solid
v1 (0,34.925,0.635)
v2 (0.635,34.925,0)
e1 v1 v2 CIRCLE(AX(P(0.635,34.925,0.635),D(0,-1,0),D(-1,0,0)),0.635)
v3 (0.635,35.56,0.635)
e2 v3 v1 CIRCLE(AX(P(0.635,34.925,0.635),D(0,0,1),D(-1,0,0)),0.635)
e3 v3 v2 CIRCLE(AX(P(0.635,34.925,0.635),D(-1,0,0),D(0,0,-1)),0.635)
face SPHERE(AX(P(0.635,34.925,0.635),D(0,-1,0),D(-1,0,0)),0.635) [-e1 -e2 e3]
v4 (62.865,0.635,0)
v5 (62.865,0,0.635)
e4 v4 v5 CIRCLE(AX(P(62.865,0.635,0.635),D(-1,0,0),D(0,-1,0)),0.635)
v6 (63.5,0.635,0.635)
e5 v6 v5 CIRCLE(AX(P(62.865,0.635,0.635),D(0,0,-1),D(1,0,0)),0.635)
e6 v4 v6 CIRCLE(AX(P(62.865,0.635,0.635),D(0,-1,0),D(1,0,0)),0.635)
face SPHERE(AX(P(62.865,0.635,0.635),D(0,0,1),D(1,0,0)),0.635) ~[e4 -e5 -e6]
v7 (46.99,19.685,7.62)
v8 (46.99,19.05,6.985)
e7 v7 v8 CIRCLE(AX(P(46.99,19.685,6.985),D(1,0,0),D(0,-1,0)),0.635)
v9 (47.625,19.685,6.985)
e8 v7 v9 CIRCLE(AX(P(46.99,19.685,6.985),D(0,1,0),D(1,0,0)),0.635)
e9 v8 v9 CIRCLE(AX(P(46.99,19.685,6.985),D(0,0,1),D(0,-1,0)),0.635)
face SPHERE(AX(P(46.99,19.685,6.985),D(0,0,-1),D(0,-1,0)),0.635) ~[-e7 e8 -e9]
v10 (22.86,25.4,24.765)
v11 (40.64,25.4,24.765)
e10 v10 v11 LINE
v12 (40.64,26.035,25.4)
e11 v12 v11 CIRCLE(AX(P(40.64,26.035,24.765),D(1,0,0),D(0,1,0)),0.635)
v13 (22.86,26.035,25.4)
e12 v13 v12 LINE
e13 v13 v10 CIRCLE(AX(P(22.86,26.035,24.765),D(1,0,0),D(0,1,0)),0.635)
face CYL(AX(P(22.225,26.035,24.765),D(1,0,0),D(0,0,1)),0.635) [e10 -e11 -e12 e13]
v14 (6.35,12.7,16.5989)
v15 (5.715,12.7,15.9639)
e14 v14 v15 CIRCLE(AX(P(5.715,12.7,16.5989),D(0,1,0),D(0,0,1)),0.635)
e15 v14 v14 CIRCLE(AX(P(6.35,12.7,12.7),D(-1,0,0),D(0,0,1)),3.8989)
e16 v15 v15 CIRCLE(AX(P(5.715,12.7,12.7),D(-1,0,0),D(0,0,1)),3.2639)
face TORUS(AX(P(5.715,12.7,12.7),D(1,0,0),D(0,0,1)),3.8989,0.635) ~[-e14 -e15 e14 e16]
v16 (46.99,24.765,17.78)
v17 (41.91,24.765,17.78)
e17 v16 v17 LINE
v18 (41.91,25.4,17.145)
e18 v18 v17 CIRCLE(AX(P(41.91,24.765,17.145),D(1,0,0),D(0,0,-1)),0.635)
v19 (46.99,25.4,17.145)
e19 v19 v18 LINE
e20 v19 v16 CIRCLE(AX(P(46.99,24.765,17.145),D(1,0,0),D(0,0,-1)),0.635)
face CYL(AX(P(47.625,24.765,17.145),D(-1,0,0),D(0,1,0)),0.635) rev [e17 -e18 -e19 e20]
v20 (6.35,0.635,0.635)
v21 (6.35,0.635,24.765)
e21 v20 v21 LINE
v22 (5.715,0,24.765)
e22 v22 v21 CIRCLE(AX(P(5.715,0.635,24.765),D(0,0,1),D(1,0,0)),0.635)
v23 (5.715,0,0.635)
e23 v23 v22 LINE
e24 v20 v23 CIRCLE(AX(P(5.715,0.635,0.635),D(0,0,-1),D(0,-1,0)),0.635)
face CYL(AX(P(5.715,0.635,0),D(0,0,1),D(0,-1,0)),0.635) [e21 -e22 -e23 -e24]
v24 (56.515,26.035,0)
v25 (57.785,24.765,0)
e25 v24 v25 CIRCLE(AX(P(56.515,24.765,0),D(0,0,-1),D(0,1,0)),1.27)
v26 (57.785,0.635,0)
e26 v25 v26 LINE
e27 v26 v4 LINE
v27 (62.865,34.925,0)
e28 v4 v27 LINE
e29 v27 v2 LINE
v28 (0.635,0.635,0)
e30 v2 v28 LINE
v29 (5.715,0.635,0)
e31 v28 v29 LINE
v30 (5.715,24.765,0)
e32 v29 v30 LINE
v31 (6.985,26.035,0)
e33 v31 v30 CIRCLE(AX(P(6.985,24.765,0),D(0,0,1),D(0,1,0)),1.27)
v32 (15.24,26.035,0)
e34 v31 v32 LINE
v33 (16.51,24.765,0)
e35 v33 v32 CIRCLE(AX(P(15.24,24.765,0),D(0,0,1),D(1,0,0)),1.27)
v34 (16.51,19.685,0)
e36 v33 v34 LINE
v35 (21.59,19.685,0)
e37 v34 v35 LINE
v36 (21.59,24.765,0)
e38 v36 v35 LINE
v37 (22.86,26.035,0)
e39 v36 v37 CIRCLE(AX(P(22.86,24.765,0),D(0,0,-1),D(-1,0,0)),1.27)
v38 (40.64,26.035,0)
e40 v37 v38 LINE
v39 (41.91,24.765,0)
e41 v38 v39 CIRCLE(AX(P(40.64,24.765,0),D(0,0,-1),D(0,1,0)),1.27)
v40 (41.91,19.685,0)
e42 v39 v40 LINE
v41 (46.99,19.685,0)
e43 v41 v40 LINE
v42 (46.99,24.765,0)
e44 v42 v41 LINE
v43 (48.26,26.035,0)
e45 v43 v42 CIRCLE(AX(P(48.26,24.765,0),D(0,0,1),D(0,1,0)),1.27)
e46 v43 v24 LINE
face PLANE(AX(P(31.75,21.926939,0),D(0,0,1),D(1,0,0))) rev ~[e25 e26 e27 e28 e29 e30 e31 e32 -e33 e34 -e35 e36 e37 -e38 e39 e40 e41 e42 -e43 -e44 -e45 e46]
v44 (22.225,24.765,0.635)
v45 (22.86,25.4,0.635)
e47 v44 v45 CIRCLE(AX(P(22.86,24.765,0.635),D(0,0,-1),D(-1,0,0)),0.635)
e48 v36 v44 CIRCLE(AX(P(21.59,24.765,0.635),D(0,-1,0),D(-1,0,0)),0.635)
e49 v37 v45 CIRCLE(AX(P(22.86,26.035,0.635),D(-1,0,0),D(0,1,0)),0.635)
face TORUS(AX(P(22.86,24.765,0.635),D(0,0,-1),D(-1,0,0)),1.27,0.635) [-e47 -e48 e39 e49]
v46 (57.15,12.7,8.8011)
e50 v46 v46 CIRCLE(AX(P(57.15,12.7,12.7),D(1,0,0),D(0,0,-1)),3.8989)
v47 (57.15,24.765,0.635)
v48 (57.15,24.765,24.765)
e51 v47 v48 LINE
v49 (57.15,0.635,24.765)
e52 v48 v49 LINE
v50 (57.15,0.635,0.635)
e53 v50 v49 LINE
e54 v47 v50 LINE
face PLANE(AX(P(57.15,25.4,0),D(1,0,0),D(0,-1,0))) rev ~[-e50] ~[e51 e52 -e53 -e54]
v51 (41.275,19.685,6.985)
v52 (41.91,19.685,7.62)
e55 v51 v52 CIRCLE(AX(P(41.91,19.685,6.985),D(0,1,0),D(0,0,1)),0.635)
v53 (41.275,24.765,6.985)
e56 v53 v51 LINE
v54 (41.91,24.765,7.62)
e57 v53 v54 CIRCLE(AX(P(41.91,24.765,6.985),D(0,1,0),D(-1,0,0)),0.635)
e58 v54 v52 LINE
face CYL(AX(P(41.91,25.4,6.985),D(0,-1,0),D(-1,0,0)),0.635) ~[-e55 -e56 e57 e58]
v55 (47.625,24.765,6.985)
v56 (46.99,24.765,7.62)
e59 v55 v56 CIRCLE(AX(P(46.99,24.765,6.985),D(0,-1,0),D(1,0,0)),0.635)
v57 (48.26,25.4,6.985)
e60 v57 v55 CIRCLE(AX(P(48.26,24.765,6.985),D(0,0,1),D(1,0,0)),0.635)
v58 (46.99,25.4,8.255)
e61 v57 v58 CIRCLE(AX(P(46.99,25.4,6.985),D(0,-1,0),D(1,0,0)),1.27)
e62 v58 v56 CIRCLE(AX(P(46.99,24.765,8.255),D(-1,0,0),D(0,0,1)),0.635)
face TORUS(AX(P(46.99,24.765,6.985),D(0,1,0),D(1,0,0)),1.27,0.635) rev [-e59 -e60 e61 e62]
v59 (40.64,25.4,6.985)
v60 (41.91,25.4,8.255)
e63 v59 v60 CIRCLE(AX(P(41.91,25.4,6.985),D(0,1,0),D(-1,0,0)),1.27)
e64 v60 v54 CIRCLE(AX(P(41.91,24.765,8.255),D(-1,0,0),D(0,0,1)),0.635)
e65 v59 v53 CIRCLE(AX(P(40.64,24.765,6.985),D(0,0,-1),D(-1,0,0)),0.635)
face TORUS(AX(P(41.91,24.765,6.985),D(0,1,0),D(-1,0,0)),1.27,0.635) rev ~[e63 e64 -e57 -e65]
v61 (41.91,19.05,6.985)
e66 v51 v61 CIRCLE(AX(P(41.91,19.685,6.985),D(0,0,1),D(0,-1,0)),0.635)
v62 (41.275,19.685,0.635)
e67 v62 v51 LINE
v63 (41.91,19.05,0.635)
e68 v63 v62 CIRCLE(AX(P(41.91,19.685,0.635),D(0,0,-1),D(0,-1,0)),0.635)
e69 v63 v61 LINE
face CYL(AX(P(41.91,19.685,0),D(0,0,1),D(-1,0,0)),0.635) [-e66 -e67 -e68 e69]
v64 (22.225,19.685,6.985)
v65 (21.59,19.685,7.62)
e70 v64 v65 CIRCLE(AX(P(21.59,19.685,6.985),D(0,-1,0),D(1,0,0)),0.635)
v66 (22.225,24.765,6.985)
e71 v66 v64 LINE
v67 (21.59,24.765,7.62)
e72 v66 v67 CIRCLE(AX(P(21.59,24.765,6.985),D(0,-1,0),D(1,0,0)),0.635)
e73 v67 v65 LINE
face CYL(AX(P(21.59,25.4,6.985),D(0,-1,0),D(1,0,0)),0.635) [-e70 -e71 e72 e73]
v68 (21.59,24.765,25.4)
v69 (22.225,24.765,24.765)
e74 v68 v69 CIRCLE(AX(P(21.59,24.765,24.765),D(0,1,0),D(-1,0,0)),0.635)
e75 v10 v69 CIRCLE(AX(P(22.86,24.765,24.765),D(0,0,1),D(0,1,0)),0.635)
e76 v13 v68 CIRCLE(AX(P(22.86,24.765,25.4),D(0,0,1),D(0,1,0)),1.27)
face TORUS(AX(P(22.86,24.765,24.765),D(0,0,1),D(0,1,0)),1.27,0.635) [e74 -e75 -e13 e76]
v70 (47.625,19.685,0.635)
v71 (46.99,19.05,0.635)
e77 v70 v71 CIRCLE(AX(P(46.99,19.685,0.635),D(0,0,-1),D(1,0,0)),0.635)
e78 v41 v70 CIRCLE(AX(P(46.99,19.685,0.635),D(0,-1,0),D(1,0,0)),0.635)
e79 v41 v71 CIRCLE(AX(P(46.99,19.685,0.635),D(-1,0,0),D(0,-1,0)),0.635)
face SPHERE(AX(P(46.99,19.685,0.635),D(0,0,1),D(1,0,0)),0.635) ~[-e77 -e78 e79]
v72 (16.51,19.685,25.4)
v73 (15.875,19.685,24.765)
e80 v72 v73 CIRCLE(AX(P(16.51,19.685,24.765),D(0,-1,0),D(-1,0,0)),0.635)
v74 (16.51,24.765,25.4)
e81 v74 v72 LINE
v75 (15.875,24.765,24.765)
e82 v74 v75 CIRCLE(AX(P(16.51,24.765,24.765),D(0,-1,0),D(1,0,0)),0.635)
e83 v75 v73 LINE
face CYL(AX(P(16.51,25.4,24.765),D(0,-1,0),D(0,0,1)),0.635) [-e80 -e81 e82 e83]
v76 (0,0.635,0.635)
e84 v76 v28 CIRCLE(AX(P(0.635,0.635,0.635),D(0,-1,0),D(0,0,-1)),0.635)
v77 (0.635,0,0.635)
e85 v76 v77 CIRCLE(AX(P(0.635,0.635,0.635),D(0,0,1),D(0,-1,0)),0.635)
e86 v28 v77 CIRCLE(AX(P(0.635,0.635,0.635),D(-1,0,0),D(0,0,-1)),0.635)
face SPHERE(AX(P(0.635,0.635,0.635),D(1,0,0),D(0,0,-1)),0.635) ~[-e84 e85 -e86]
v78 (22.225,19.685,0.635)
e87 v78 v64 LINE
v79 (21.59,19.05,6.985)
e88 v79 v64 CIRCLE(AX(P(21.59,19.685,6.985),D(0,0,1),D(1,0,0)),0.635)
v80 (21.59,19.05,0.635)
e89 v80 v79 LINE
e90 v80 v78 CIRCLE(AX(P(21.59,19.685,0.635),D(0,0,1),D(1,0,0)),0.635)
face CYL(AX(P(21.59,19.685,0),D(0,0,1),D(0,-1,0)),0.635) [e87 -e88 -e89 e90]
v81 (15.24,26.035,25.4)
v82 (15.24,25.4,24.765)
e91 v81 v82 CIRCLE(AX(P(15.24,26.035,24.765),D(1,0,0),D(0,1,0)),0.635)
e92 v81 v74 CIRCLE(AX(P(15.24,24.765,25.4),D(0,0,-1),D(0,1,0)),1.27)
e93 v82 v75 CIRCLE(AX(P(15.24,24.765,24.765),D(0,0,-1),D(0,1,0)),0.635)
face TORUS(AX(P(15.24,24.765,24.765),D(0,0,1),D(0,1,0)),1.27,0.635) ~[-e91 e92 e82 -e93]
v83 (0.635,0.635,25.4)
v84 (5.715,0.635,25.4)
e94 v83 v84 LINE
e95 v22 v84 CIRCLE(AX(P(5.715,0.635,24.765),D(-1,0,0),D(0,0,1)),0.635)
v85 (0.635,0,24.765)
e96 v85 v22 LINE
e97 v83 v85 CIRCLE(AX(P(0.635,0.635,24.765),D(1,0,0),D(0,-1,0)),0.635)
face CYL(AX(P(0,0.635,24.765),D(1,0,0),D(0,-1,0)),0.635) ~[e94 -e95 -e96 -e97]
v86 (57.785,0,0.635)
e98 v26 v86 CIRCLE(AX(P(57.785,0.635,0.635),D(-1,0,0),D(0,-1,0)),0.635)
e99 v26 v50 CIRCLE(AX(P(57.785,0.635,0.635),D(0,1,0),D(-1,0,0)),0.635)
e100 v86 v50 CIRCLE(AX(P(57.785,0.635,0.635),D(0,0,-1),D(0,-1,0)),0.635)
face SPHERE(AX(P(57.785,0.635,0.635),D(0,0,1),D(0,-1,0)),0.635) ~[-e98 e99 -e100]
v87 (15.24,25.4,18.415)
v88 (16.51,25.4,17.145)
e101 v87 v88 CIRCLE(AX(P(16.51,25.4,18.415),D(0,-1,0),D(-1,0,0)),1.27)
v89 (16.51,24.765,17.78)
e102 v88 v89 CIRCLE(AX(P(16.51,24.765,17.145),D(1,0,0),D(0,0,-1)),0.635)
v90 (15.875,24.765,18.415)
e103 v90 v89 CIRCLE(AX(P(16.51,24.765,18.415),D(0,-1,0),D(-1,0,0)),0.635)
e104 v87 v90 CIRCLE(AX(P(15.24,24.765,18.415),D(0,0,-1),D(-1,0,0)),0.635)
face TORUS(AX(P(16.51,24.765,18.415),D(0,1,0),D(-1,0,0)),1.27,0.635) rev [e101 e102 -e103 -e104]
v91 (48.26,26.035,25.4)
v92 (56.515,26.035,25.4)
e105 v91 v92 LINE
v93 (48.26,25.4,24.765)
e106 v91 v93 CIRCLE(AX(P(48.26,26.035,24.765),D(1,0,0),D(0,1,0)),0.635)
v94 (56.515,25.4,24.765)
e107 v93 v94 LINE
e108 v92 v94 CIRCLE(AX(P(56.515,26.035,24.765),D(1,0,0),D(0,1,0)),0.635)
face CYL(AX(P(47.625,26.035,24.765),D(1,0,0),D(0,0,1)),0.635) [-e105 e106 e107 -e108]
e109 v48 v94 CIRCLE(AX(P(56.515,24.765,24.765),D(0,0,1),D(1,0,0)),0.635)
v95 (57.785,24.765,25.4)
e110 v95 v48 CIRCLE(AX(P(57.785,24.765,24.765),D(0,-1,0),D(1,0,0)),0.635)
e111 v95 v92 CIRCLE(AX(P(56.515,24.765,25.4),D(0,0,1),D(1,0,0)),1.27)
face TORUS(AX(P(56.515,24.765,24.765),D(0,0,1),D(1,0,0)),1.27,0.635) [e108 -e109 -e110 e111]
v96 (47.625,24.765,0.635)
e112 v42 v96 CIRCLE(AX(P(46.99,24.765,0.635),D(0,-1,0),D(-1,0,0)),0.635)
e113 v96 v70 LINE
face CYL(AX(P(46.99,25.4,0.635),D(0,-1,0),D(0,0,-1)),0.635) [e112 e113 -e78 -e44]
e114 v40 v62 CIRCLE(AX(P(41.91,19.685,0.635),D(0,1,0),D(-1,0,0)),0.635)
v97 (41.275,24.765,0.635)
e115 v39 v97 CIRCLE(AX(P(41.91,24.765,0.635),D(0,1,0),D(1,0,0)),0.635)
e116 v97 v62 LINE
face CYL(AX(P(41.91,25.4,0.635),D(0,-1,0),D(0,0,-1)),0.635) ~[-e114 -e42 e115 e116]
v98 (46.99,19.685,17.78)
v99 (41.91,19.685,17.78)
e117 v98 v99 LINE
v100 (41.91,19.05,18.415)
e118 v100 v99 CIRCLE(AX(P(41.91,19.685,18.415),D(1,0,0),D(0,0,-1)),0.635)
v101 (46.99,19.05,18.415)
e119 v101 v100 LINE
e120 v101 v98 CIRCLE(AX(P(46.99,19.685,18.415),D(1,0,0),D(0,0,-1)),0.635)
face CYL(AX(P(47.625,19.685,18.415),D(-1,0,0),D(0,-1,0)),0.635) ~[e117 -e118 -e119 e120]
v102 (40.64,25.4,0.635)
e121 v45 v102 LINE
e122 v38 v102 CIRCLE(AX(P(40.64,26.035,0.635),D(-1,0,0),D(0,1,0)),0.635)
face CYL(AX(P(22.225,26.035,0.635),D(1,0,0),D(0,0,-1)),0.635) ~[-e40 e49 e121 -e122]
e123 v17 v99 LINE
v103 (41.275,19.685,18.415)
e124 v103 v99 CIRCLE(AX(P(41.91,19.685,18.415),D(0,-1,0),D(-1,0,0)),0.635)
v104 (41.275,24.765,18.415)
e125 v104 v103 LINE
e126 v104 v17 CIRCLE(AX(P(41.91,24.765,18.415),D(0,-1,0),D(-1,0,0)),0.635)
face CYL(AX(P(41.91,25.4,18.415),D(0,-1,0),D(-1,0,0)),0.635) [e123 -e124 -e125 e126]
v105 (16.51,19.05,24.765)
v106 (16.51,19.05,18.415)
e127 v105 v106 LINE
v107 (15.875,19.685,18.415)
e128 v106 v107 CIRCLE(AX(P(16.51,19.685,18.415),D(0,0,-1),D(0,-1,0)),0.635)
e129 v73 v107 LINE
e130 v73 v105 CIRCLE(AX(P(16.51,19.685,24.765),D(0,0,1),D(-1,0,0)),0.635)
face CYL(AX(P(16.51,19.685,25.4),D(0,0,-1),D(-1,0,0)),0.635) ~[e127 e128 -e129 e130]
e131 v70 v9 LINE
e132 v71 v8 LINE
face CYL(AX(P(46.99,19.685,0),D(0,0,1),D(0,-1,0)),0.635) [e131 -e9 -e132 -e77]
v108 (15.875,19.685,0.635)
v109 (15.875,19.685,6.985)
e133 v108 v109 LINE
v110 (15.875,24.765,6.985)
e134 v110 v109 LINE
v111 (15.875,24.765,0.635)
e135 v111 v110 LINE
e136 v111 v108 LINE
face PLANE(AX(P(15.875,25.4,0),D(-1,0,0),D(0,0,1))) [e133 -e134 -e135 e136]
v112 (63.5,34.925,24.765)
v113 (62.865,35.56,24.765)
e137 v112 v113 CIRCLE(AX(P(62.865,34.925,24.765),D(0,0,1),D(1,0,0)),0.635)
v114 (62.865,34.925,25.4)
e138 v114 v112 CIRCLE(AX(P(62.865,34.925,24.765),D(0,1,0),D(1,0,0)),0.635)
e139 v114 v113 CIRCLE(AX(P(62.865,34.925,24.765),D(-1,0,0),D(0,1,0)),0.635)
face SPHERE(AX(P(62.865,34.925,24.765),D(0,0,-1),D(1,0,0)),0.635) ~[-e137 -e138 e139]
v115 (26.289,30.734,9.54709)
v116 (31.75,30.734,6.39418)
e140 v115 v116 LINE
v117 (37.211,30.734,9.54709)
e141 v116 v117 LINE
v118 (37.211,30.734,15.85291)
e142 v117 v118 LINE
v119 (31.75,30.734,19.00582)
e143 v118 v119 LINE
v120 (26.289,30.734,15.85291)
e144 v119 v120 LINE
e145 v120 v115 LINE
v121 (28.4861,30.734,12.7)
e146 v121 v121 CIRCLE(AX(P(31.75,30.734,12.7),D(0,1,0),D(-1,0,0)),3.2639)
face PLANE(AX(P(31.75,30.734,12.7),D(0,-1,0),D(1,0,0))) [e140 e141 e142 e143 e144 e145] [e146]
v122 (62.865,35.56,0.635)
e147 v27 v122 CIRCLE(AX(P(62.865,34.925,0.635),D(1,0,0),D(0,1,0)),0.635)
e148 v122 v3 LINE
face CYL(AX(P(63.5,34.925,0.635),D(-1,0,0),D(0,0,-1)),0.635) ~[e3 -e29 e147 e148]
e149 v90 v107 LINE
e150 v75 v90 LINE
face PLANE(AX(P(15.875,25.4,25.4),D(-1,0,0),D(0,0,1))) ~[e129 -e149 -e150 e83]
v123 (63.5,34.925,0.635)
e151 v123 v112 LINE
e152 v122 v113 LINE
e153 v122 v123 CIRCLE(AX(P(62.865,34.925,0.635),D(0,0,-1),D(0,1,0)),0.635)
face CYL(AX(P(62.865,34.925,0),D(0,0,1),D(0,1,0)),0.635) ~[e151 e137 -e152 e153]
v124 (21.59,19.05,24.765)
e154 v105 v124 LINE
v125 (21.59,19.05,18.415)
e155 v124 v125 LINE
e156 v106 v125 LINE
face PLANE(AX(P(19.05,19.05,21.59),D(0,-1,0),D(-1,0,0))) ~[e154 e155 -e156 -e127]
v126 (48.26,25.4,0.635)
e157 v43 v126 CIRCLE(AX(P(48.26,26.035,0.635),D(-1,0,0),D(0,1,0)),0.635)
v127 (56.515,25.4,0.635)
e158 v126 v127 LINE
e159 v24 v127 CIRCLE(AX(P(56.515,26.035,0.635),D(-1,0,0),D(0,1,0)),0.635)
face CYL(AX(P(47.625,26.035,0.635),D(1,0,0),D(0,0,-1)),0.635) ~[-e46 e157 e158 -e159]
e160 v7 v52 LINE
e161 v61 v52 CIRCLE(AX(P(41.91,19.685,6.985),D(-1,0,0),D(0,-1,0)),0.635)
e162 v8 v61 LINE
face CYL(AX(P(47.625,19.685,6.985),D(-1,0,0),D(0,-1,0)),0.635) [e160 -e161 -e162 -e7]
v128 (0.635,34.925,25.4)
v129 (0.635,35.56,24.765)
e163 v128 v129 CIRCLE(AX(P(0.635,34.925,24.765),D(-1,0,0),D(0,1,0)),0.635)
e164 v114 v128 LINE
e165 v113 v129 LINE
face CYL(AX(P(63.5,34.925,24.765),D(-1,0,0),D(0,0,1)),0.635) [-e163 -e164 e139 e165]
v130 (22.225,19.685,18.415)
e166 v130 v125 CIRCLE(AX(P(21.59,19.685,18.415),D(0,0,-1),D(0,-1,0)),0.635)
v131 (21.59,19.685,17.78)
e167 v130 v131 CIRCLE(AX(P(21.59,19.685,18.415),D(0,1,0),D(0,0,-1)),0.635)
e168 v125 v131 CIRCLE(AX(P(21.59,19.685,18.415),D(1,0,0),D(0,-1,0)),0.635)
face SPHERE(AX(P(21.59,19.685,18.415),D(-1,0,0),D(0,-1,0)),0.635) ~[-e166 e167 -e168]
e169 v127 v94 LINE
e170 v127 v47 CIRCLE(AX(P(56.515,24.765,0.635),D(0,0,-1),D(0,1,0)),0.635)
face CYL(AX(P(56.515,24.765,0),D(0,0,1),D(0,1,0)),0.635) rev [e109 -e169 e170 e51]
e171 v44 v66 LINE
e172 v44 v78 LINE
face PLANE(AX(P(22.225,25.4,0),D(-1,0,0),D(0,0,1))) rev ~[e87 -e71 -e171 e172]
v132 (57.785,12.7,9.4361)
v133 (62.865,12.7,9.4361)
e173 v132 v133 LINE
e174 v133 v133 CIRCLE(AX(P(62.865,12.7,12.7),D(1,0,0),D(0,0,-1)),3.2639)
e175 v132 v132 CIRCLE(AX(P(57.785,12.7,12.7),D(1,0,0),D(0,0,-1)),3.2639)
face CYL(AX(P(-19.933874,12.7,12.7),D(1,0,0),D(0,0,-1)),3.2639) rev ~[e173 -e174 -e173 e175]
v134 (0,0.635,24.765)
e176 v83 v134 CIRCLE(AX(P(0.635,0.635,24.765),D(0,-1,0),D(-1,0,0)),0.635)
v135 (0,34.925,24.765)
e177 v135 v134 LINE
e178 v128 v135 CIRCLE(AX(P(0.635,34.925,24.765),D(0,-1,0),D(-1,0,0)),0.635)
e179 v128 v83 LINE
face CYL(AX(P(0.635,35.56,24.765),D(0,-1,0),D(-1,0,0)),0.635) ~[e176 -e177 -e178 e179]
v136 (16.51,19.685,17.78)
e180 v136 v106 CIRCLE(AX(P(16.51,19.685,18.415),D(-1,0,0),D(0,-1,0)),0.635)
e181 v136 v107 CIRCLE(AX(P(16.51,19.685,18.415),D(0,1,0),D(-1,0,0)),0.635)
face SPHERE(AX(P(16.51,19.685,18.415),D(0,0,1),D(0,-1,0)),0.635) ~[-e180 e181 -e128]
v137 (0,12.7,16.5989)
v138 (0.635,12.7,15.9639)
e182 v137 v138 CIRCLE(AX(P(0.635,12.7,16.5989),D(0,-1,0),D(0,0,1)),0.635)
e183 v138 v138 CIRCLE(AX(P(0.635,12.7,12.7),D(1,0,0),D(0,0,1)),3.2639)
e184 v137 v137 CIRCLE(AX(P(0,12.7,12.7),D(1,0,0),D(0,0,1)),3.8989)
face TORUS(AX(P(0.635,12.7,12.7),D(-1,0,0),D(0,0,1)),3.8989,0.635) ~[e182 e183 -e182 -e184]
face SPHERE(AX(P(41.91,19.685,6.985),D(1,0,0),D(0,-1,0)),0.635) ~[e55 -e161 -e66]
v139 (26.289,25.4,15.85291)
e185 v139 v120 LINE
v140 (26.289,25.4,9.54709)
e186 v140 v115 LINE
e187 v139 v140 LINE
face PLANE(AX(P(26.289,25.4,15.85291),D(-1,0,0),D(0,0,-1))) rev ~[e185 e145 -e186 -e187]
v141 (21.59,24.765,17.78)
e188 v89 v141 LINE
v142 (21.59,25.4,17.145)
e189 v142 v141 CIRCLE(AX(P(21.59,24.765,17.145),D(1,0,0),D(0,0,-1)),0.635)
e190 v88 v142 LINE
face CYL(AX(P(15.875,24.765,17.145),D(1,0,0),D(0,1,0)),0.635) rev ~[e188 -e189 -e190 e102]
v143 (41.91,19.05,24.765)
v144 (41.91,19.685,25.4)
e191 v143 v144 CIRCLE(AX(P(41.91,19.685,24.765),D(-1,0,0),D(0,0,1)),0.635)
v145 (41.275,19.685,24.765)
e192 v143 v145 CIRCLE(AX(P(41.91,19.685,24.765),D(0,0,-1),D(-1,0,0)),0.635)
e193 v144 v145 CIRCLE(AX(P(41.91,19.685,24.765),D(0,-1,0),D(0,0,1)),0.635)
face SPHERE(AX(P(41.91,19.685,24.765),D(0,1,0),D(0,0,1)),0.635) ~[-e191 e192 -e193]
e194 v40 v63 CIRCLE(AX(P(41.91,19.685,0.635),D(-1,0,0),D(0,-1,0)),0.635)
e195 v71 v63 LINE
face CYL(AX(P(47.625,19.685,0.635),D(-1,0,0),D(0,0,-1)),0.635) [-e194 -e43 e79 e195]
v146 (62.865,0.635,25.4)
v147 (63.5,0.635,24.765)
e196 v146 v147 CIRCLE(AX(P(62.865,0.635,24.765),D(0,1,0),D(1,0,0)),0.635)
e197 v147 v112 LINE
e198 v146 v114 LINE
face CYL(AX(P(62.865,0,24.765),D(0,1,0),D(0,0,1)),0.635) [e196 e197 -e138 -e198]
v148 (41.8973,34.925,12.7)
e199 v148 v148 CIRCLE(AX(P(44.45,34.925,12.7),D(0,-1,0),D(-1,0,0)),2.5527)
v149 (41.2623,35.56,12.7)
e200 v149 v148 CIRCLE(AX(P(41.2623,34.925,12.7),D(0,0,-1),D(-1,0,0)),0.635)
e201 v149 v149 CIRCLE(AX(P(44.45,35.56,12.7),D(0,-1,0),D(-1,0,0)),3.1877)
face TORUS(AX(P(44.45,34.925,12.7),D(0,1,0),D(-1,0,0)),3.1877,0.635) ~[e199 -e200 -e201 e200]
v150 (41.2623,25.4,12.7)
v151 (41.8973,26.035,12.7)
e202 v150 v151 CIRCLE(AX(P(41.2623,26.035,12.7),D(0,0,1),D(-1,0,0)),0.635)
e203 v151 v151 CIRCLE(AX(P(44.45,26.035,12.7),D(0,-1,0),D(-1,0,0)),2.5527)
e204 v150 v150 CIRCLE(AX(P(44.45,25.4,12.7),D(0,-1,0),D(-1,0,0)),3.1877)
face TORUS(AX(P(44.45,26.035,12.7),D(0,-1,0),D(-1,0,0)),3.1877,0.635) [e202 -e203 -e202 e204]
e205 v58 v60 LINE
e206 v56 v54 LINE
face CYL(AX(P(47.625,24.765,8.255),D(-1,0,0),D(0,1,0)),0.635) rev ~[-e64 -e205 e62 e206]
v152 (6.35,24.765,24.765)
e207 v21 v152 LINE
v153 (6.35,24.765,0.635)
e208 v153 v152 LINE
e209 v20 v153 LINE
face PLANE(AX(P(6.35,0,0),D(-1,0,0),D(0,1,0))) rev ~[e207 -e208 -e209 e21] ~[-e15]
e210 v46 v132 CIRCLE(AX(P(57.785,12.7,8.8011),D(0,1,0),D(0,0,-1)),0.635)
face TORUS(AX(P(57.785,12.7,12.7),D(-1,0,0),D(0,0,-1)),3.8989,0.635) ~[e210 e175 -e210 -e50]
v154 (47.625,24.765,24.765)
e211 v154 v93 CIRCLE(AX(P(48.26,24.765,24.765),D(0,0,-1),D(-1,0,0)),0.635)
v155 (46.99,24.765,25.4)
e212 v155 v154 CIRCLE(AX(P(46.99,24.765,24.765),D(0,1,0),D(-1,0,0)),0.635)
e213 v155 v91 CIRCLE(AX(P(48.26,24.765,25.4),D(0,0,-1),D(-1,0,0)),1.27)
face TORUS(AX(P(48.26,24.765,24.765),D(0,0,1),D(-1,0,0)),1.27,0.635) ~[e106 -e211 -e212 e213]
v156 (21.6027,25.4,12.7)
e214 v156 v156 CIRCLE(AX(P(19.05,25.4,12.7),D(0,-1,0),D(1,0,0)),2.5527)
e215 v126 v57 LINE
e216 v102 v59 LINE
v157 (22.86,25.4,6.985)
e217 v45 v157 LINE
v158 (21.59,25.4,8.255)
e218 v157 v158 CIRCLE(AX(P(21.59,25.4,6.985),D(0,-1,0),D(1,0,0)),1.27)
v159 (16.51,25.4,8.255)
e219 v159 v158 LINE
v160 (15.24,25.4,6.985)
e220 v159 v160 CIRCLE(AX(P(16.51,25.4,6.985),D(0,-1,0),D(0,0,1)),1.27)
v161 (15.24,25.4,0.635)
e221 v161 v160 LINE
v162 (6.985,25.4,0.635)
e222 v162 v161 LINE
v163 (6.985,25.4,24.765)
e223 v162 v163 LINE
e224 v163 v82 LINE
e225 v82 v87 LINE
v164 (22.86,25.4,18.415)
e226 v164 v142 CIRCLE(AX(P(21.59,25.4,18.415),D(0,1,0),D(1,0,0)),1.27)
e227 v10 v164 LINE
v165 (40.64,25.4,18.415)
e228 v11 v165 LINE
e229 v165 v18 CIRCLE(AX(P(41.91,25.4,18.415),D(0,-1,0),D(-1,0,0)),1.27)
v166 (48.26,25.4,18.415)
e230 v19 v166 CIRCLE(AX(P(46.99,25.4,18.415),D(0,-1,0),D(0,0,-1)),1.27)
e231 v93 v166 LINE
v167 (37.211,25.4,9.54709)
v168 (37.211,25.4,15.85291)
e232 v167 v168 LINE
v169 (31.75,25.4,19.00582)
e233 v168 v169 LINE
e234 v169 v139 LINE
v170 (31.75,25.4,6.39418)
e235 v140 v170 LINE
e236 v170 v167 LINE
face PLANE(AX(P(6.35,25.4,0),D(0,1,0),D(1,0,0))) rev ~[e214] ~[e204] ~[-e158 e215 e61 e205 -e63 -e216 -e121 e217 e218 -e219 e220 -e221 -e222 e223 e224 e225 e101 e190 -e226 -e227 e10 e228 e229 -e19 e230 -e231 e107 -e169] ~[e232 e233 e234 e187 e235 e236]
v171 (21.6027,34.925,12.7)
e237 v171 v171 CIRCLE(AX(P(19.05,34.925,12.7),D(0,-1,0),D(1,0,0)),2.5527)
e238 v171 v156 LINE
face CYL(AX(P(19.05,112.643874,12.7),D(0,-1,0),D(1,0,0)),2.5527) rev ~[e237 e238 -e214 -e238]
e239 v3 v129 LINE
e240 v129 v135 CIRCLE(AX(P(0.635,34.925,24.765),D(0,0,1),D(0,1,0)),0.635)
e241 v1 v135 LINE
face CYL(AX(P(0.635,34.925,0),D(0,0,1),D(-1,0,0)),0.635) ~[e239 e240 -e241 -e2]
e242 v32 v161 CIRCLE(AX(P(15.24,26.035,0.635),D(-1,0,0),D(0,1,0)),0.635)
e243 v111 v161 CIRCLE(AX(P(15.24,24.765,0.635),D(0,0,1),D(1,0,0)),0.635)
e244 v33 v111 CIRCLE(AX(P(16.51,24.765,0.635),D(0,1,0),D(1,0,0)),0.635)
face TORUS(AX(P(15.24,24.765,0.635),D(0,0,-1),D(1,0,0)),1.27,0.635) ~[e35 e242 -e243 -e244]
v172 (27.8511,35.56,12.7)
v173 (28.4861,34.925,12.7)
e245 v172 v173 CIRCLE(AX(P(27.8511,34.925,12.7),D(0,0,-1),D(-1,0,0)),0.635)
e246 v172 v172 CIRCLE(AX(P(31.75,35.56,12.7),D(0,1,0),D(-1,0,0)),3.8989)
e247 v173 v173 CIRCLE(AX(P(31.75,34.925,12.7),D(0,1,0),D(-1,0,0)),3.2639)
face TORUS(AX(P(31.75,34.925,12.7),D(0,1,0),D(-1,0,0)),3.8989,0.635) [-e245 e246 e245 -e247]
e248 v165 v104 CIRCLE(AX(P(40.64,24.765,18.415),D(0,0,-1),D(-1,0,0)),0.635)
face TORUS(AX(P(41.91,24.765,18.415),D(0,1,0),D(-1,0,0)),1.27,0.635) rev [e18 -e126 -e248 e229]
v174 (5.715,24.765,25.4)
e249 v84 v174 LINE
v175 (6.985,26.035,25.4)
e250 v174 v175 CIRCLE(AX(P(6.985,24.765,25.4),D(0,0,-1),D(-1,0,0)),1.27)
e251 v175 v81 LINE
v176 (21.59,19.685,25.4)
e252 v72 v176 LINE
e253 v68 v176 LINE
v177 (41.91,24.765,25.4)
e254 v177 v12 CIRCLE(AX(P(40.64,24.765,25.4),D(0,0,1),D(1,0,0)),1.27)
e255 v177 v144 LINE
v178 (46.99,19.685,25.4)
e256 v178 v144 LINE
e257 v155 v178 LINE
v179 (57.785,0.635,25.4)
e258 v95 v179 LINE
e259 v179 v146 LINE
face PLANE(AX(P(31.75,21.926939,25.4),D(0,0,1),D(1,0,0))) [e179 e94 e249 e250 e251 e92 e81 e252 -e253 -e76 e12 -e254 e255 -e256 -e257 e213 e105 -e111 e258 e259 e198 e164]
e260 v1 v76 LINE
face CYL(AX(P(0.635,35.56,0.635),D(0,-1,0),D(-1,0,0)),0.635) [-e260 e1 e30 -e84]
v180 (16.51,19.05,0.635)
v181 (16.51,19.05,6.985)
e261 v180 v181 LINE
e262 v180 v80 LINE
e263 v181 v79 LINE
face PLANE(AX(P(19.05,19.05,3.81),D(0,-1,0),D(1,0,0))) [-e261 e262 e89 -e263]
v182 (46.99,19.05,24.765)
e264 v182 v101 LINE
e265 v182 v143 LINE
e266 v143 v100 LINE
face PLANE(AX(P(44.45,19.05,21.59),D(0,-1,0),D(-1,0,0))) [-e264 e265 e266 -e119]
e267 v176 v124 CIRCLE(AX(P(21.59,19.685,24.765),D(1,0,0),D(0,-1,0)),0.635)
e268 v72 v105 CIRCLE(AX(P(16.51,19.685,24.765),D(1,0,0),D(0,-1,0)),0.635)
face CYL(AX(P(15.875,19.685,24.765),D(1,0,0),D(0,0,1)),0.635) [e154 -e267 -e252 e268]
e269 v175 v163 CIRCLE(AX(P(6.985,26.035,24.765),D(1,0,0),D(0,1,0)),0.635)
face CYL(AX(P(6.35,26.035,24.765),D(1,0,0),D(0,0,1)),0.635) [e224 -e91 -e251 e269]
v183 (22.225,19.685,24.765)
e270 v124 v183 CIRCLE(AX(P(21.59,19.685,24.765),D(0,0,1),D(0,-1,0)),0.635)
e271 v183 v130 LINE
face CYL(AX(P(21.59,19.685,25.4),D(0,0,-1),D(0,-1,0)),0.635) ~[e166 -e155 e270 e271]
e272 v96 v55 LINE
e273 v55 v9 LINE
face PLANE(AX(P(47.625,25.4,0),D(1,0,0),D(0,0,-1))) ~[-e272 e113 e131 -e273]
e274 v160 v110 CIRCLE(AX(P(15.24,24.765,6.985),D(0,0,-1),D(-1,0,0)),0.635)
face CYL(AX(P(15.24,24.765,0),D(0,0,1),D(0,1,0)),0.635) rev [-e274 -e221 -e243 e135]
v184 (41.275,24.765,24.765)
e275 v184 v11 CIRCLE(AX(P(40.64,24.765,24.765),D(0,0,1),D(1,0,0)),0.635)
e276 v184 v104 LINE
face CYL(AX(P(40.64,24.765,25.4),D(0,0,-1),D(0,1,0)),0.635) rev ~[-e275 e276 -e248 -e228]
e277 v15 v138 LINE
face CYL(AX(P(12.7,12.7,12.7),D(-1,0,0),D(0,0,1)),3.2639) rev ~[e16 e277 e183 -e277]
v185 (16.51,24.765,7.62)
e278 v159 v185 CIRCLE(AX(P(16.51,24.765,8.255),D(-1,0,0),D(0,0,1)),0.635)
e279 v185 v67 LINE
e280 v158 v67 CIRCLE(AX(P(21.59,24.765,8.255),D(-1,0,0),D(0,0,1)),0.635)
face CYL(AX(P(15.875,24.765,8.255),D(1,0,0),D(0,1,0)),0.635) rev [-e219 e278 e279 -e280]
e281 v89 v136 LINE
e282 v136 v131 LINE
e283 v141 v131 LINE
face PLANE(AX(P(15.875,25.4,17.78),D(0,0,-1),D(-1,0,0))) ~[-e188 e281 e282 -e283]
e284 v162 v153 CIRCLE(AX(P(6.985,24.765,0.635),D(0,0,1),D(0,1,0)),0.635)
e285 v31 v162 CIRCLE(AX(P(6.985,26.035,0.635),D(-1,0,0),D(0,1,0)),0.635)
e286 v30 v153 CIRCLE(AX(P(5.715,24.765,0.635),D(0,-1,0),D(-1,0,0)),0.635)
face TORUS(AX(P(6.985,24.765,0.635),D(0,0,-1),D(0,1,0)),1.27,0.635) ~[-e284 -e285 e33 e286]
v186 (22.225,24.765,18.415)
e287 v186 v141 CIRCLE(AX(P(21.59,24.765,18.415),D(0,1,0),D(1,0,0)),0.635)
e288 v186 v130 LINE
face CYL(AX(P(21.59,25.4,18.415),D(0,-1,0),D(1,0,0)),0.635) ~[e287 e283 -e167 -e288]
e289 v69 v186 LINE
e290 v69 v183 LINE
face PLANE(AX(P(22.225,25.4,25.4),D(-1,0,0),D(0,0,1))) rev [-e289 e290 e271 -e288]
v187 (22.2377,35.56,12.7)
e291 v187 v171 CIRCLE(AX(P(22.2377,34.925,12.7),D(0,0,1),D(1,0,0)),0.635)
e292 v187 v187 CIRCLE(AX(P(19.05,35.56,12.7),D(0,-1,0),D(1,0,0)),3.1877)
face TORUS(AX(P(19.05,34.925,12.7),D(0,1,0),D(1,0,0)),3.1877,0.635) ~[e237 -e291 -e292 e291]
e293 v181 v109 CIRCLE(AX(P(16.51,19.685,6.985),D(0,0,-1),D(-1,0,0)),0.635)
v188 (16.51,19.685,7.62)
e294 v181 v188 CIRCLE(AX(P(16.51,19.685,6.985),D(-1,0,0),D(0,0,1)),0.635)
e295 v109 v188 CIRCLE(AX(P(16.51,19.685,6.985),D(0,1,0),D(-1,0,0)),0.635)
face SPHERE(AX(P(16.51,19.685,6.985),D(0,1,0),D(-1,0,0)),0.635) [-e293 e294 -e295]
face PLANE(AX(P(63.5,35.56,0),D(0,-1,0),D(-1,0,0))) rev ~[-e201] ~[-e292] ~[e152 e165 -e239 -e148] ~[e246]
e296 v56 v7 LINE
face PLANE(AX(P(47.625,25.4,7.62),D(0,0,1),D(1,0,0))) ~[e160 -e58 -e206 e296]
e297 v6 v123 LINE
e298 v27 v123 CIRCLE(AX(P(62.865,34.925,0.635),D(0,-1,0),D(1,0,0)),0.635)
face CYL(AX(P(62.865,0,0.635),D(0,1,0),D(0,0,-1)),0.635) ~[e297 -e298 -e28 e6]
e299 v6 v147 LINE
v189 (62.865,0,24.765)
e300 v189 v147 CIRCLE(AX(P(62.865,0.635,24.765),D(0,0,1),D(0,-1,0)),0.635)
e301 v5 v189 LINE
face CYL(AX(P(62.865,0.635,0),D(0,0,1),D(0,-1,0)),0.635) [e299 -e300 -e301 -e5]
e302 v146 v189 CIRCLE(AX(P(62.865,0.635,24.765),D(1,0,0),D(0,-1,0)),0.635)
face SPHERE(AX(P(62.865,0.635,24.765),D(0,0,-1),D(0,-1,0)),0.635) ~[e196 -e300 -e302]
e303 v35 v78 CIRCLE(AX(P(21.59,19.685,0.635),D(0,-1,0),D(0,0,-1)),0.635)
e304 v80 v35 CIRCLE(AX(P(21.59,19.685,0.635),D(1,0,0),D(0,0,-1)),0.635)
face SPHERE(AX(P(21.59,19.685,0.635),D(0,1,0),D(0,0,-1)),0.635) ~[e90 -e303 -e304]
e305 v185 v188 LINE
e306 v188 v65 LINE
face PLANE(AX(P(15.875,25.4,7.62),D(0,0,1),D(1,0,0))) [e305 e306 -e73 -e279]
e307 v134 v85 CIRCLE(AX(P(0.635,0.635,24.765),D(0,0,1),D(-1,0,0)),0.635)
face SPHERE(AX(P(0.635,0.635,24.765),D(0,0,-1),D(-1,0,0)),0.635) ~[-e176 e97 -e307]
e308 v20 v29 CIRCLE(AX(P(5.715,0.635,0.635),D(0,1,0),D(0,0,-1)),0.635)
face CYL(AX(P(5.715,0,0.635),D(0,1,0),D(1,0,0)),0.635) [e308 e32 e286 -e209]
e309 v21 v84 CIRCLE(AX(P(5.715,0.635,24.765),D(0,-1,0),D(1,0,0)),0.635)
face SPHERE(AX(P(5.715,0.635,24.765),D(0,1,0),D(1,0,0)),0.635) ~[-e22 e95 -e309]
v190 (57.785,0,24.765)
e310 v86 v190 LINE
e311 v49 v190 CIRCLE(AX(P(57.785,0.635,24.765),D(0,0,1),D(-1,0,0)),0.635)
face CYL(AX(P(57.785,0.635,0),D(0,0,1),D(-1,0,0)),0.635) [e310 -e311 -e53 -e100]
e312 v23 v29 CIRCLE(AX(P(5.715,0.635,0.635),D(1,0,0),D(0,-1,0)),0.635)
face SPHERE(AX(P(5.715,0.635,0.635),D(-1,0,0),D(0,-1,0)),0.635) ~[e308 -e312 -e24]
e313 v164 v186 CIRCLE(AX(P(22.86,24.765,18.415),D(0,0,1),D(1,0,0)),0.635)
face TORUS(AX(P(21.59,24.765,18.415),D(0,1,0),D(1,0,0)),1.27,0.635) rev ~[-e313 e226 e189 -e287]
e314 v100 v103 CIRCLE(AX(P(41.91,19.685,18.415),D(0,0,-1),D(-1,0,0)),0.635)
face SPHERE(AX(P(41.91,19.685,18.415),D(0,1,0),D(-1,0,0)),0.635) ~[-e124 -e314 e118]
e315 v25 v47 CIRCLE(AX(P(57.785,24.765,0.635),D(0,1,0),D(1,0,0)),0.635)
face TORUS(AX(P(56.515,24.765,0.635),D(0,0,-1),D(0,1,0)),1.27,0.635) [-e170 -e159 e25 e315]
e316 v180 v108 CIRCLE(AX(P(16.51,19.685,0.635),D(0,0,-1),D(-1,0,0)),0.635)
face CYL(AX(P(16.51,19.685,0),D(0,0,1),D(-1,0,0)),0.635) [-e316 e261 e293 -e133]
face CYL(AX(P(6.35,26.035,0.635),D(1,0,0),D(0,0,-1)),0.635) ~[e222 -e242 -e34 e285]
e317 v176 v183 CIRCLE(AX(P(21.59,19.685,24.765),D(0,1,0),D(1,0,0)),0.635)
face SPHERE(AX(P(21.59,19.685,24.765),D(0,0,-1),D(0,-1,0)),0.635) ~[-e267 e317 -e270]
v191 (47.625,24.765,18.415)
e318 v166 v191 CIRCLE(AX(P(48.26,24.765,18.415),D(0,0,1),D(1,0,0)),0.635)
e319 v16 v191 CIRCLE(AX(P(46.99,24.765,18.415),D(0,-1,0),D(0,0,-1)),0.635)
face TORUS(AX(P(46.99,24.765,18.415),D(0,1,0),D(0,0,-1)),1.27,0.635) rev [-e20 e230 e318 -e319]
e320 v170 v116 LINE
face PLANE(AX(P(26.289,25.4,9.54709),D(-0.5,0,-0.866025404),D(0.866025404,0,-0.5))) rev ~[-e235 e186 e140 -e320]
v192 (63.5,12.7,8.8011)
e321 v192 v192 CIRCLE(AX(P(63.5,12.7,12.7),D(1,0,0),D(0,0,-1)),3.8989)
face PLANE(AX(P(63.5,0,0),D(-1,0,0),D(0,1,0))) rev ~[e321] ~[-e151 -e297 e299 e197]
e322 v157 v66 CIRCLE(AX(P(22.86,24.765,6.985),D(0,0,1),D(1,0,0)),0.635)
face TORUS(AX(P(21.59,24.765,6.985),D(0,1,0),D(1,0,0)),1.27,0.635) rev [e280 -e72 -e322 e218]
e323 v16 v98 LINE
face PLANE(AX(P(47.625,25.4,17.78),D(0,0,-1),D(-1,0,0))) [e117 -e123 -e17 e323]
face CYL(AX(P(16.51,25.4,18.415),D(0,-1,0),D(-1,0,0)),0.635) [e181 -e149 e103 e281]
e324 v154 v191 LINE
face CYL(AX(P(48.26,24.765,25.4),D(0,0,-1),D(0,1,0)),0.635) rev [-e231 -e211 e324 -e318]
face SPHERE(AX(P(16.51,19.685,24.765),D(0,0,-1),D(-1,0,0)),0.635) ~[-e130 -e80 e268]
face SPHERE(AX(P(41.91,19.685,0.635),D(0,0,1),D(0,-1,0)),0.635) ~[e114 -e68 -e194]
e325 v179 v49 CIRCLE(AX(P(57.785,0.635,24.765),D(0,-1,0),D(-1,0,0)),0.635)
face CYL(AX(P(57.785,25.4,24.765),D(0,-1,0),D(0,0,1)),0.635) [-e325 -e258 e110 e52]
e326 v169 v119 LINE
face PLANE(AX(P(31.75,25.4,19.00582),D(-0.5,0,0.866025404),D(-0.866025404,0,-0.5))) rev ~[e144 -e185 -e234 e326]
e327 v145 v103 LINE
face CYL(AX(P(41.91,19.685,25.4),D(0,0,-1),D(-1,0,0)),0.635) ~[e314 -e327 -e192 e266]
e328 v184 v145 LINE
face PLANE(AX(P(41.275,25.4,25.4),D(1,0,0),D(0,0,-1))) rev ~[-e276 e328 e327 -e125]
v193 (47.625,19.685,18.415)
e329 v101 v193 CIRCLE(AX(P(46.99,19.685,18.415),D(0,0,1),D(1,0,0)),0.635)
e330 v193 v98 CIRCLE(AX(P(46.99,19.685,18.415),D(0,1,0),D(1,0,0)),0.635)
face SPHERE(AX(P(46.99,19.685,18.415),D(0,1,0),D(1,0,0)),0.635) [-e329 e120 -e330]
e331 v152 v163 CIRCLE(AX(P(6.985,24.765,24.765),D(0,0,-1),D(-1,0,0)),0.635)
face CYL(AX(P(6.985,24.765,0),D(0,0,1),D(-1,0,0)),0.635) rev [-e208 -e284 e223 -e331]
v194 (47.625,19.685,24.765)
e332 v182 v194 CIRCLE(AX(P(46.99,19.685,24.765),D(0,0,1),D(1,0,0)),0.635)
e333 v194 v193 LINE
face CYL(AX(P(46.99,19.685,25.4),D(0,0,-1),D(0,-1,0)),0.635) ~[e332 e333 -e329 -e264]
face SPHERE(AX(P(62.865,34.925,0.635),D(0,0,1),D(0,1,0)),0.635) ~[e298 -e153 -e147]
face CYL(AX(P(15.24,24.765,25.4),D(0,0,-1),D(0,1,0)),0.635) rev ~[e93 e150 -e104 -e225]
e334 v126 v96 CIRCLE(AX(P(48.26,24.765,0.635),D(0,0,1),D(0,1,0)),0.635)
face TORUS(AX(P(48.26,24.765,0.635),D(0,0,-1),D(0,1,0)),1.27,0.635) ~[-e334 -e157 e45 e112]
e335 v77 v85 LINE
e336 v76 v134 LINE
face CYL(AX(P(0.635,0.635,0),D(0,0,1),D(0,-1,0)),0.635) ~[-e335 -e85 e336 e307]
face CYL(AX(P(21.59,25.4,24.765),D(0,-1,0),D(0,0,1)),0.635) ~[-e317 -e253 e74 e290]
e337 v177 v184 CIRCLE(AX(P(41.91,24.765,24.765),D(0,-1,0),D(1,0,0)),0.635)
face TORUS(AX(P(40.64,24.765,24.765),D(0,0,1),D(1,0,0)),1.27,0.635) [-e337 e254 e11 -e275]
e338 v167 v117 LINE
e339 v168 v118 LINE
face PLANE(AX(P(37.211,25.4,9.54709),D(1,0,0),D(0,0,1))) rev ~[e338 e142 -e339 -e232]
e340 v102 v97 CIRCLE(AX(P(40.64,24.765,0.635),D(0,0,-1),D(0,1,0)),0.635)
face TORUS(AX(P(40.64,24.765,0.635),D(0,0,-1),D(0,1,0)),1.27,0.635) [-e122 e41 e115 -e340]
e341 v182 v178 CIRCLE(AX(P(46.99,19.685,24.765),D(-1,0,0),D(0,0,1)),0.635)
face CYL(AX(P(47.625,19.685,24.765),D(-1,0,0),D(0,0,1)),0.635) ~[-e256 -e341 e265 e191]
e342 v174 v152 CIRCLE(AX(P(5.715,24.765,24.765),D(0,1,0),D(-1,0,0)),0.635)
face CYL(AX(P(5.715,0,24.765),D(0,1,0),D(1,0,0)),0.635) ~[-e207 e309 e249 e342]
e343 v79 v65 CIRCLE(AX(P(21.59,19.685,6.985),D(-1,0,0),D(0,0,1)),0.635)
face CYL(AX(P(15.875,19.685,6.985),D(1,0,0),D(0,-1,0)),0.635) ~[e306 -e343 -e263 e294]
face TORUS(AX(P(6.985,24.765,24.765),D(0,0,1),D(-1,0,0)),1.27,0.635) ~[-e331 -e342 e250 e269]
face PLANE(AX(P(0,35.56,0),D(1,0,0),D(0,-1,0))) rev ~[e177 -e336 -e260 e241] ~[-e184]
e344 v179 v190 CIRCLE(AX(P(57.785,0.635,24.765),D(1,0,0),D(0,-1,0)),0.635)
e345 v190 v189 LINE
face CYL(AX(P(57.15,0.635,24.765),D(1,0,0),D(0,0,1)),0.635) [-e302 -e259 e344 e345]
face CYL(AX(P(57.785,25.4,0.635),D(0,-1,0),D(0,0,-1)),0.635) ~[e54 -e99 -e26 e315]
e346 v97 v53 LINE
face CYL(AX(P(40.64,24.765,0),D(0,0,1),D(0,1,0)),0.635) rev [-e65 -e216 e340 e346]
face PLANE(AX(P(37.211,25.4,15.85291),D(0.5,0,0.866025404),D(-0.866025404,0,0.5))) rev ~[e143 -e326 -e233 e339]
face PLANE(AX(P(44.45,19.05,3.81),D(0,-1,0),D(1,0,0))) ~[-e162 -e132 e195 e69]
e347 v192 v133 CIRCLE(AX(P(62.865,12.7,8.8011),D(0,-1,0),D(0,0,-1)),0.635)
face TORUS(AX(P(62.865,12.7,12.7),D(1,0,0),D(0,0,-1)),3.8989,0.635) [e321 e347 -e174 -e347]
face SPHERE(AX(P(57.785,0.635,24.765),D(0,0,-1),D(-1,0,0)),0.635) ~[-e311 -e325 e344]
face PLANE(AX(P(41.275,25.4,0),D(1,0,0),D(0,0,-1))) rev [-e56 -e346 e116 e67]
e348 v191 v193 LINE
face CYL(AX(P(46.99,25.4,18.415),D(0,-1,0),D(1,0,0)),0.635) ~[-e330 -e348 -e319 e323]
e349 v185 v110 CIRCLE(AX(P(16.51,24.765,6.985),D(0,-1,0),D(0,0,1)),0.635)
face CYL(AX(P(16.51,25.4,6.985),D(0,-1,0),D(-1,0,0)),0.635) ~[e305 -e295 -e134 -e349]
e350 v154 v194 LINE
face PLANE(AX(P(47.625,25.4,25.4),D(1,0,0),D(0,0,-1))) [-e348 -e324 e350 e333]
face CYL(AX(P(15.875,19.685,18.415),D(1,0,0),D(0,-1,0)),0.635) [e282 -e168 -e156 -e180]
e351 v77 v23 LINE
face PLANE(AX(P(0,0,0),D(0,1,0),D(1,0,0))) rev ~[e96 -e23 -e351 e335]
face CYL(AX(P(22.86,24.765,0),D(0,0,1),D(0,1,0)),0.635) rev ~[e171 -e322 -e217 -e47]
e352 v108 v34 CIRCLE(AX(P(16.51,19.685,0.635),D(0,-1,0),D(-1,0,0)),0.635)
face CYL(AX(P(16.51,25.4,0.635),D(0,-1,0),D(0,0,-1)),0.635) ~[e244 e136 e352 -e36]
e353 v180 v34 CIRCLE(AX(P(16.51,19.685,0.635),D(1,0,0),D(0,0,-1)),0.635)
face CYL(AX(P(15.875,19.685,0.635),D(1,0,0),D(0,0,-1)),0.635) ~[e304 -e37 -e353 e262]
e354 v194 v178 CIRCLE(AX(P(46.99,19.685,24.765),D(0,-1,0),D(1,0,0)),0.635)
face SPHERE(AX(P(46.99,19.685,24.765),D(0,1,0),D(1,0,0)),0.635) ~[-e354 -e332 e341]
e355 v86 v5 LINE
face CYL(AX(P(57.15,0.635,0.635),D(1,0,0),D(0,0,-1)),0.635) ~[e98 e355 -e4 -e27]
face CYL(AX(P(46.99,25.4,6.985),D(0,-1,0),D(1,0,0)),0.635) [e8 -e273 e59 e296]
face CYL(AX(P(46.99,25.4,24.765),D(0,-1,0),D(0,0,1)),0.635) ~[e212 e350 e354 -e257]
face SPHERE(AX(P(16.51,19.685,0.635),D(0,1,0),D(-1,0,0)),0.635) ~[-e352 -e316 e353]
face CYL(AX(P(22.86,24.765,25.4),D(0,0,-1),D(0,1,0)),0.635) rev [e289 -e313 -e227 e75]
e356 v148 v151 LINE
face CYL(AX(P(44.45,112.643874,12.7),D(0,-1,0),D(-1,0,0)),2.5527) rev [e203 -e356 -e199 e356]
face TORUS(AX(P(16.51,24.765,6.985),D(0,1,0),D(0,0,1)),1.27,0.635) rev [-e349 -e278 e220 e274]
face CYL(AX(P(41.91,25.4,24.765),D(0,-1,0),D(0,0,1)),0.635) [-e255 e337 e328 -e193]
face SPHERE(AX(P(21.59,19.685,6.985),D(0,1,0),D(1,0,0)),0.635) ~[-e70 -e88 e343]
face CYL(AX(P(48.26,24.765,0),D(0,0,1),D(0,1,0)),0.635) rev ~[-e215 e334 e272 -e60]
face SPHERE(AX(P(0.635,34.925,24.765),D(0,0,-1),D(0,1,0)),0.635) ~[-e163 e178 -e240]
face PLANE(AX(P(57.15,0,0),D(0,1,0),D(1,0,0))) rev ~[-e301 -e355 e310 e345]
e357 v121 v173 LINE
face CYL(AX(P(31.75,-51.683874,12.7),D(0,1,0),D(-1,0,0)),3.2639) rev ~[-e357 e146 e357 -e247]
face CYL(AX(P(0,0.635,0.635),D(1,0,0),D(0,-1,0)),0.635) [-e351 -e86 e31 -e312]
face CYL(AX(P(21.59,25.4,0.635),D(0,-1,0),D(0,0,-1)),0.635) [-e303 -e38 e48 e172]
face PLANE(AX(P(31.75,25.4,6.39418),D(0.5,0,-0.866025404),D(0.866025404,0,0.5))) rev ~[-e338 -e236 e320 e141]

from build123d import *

# Parameters (mm, degrees)
BOSS_EXTRUDE1_DEPTH              = 25.4
SKETCH2_W                        = 6.35
SKETCH2_H                        = 7.62
BOSS_EXTRUDE2_DEPTH              = 6.35
F_1_4_20_TAPPED_HOLE1_D          = 5.1054
F_97_0_0059_DIAMETER_HOLE1_D     = 6.5278
F_97_0_0059_DIAMETER_HOLE1_DEPTH = 6.35
F_97_0_0059_DIAMETER_HOLE2_D     = 6.5278
MIRROR3_COPY_1_SKETCH_W          = 6.35
MIRROR3_COPY_1_SKETCH_H          = 7.62
MIRROR3_COPY_1_DEPTH             = 6.35
F_97_0_0059_DIAMETER_HOLE3_D     = 6.5278
FILLET2_R                        = 0.635
BOSS_EXTRUDE3_DEPTH              = 5.334


with BuildPart() as part:
    # Sketch1 → Boss-Extrude1 (new body)
    with BuildSketch(Plane.XY):
        Polygon((0, 0), (6.35, 0), (6.35, 25.4), (57.15, 25.4), (57.15, 0), (63.5, 0), (63.5, 35.56), (0, 35.56), align=None)
    extrude(amount=BOSS_EXTRUDE1_DEPTH)

    # Sketch2 → Boss-Extrude2 (add)
    with BuildSketch(Plane.XZ.offset(-25.4)):
        with Locations((19.05, 3.81)):
            Rectangle(SKETCH2_W, SKETCH2_H)
    boss_extrude2 = extrude(amount=BOSS_EXTRUDE2_DEPTH)

    # Mirror1: Boss-Extrude2 across plane
    add(boss_extrude2.mirror(Plane.XY.offset(12.7)))

    # 1/4-20 Tapped Hole1 (through all)
    with Locations(Plane(origin=(0, 35.56, 0), x_dir=(-1, 0, 0), z_dir=(0, 1, 0))):
        with Locations((-19.05, 12.7)):
            f_1_4_20_tapped_hole1 = Hole(F_1_4_20_TAPPED_HOLE1_D / 2)

    # #97 (0.0059) Diameter Hole1
    with Locations(Plane(origin=(6.35, 0, 0), x_dir=(0, 0, -1), z_dir=(1, 0, 0))):
        with Locations((-12.7, 12.7)):
            Hole(F_97_0_0059_DIAMETER_HOLE1_D / 2, depth=F_97_0_0059_DIAMETER_HOLE1_DEPTH)

    # #97 (0.0059) Diameter Hole2 (through all)
    with Locations(Plane.ZY.offset(-57.15)):
        with Locations((12.7, 12.7)):
            Hole(F_97_0_0059_DIAMETER_HOLE2_D / 2)

    # Mirror2: 1/4-20 Tapped Hole1 across plane
    add(f_1_4_20_tapped_hole1.mirror(Plane(origin=(31.75, 0, 0), x_dir=(0, 0, 1), z_dir=(1, 0, 0))), mode=Mode.SUBTRACT)

    # Mirror3: Boss-Extrude2 across plane
    add(boss_extrude2.mirror(Plane(origin=(31.75, 0, 0), x_dir=(0, 0, 1), z_dir=(1, 0, 0))))

    # Mirror3 copy 1 sketch → Mirror3 copy 1 (add)
    with BuildSketch(Plane(origin=(63.5, 25.4, 25.4), x_dir=(-1, 0, 0), z_dir=(0, -1, 0))):
        with Locations((19.05, 3.81)):
            Rectangle(MIRROR3_COPY_1_SKETCH_W, MIRROR3_COPY_1_SKETCH_H)
    extrude(amount=MIRROR3_COPY_1_DEPTH)

    # #97 (0.0059) Diameter Hole3 (through all)
    with Locations(Plane.XZ.offset(-25.4)):
        with Locations((31.75, 12.7)):
            Hole(F_97_0_0059_DIAMETER_HOLE3_D / 2)

    # Fillet2
    fillet2_edges = [part.edges().sort_by_distance(p)[0] for p in [
        (6.35, 12.7, 25.4),
        (3.175, 0, 0),
        (0, 17.78, 0),
        (11.1125, 25.4, 25.4),
        (0, 35.56, 12.7),
        (63.5, 35.56, 12.7),
        (63.5, 0, 12.7),
        (57.15, 0, 12.7),
        (57.15, 25.4, 12.7),
        (6.35, 25.4, 12.7),
        (6.35, 0, 12.7),
        (0, 0, 12.7),
        (57.15, 12.7, 25.4),
        (60.325, 0, 25.4),
        (63.5, 17.78, 25.4),
        (31.75, 25.4, 0),
        (31.75, 35.56, 25.4),
        (15.875, 25.4, 3.81),
        (15.875, 22.225, 7.62),
        (15.875, 22.225, 0),
        (22.225, 25.4, 3.81),
        (22.225, 22.225, 0),
        (19.05, 25.4, 7.62),
        (22.225, 22.225, 7.62),
        (15.875, 19.05, 3.81),
        (19.05, 19.05, 0),
        (22.225, 19.05, 3.81),
        (19.05, 19.05, 7.62),
        (31.75, 25.4, 25.4),
        (15.875, 19.05, 21.59),
        (15.875, 22.225, 25.4),
        (19.05, 19.05, 17.78),
        (15.875, 22.225, 17.78),
        (22.225, 19.05, 21.59),
        (22.225, 22.225, 17.78),
        (19.05, 19.05, 25.4),
        (22.225, 22.225, 25.4),
        (15.875, 25.4, 21.59),
        (0, 17.78, 25.4),
        (22.225, 25.4, 21.59),
        (19.05, 25.4, 17.78),
        (16.4973, 35.56, 12.7),
        (6.35, 12.7, 9.4361),
        (0, 12.7, 9.4361),
        (57.15, 12.7, 15.9639),
        (63.5, 12.7, 15.9639),
        (47.0027, 25.4, 12.7),
        (47.0027, 35.56, 12.7),
        (52.3875, 25.4, 0),
        (3.175, 0, 25.4),
        (47.625, 19.05, 3.81),
        (47.625, 22.225, 0),
        (44.45, 19.05, 7.62),
        (47.625, 22.225, 7.62),
        (41.275, 19.05, 3.81),
        (41.275, 22.225, 7.62),
        (44.45, 19.05, 0),
        (41.275, 22.225, 0),
        (47.625, 25.4, 3.81),
        (41.275, 25.4, 3.81),
        (44.45, 25.4, 7.62),
        (31.75, 35.56, 0),
        (52.3875, 25.4, 25.4),
        (63.5, 17.78, 0),
        (47.625, 25.4, 21.59),
        (47.625, 22.225, 17.78),
        (47.625, 22.225, 25.4),
        (41.275, 25.4, 21.59),
        (41.275, 22.225, 25.4),
        (44.45, 25.4, 17.78),
        (41.275, 22.225, 17.78),
        (47.625, 19.05, 21.59),
        (44.45, 19.05, 25.4),
        (41.275, 19.05, 21.59),
        (44.45, 19.05, 17.78),
        (60.325, 0, 0),
        (57.15, 12.7, 0),
        (11.1125, 25.4, 0),
        (6.35, 12.7, 0),
        (35.0139, 25.4, 12.7),
        (35.0139, 35.56, 12.7),
    ]]
    fillet(fillet2_edges, radius=FILLET2_R)


with BuildPart() as body_2:
    # Sketch13 → Boss-Extrude3 (new body)
    with BuildSketch(Plane.XZ.offset(-25.4)):
        Polygon((31.75, 19.00581964), (26.289, 15.85290982), (26.289, 9.54709018), (31.75, 6.39418036), (37.211, 9.54709018), (37.211, 15.85290982), align=None)
    extrude(amount=-BOSS_EXTRUDE3_DEPTH)


with BuildPart() as part_1:
    add(part.part)

    # Combine1: cut body 2
    add(body_2.part, mode=Mode.SUBTRACT)


solid = part_1.part
